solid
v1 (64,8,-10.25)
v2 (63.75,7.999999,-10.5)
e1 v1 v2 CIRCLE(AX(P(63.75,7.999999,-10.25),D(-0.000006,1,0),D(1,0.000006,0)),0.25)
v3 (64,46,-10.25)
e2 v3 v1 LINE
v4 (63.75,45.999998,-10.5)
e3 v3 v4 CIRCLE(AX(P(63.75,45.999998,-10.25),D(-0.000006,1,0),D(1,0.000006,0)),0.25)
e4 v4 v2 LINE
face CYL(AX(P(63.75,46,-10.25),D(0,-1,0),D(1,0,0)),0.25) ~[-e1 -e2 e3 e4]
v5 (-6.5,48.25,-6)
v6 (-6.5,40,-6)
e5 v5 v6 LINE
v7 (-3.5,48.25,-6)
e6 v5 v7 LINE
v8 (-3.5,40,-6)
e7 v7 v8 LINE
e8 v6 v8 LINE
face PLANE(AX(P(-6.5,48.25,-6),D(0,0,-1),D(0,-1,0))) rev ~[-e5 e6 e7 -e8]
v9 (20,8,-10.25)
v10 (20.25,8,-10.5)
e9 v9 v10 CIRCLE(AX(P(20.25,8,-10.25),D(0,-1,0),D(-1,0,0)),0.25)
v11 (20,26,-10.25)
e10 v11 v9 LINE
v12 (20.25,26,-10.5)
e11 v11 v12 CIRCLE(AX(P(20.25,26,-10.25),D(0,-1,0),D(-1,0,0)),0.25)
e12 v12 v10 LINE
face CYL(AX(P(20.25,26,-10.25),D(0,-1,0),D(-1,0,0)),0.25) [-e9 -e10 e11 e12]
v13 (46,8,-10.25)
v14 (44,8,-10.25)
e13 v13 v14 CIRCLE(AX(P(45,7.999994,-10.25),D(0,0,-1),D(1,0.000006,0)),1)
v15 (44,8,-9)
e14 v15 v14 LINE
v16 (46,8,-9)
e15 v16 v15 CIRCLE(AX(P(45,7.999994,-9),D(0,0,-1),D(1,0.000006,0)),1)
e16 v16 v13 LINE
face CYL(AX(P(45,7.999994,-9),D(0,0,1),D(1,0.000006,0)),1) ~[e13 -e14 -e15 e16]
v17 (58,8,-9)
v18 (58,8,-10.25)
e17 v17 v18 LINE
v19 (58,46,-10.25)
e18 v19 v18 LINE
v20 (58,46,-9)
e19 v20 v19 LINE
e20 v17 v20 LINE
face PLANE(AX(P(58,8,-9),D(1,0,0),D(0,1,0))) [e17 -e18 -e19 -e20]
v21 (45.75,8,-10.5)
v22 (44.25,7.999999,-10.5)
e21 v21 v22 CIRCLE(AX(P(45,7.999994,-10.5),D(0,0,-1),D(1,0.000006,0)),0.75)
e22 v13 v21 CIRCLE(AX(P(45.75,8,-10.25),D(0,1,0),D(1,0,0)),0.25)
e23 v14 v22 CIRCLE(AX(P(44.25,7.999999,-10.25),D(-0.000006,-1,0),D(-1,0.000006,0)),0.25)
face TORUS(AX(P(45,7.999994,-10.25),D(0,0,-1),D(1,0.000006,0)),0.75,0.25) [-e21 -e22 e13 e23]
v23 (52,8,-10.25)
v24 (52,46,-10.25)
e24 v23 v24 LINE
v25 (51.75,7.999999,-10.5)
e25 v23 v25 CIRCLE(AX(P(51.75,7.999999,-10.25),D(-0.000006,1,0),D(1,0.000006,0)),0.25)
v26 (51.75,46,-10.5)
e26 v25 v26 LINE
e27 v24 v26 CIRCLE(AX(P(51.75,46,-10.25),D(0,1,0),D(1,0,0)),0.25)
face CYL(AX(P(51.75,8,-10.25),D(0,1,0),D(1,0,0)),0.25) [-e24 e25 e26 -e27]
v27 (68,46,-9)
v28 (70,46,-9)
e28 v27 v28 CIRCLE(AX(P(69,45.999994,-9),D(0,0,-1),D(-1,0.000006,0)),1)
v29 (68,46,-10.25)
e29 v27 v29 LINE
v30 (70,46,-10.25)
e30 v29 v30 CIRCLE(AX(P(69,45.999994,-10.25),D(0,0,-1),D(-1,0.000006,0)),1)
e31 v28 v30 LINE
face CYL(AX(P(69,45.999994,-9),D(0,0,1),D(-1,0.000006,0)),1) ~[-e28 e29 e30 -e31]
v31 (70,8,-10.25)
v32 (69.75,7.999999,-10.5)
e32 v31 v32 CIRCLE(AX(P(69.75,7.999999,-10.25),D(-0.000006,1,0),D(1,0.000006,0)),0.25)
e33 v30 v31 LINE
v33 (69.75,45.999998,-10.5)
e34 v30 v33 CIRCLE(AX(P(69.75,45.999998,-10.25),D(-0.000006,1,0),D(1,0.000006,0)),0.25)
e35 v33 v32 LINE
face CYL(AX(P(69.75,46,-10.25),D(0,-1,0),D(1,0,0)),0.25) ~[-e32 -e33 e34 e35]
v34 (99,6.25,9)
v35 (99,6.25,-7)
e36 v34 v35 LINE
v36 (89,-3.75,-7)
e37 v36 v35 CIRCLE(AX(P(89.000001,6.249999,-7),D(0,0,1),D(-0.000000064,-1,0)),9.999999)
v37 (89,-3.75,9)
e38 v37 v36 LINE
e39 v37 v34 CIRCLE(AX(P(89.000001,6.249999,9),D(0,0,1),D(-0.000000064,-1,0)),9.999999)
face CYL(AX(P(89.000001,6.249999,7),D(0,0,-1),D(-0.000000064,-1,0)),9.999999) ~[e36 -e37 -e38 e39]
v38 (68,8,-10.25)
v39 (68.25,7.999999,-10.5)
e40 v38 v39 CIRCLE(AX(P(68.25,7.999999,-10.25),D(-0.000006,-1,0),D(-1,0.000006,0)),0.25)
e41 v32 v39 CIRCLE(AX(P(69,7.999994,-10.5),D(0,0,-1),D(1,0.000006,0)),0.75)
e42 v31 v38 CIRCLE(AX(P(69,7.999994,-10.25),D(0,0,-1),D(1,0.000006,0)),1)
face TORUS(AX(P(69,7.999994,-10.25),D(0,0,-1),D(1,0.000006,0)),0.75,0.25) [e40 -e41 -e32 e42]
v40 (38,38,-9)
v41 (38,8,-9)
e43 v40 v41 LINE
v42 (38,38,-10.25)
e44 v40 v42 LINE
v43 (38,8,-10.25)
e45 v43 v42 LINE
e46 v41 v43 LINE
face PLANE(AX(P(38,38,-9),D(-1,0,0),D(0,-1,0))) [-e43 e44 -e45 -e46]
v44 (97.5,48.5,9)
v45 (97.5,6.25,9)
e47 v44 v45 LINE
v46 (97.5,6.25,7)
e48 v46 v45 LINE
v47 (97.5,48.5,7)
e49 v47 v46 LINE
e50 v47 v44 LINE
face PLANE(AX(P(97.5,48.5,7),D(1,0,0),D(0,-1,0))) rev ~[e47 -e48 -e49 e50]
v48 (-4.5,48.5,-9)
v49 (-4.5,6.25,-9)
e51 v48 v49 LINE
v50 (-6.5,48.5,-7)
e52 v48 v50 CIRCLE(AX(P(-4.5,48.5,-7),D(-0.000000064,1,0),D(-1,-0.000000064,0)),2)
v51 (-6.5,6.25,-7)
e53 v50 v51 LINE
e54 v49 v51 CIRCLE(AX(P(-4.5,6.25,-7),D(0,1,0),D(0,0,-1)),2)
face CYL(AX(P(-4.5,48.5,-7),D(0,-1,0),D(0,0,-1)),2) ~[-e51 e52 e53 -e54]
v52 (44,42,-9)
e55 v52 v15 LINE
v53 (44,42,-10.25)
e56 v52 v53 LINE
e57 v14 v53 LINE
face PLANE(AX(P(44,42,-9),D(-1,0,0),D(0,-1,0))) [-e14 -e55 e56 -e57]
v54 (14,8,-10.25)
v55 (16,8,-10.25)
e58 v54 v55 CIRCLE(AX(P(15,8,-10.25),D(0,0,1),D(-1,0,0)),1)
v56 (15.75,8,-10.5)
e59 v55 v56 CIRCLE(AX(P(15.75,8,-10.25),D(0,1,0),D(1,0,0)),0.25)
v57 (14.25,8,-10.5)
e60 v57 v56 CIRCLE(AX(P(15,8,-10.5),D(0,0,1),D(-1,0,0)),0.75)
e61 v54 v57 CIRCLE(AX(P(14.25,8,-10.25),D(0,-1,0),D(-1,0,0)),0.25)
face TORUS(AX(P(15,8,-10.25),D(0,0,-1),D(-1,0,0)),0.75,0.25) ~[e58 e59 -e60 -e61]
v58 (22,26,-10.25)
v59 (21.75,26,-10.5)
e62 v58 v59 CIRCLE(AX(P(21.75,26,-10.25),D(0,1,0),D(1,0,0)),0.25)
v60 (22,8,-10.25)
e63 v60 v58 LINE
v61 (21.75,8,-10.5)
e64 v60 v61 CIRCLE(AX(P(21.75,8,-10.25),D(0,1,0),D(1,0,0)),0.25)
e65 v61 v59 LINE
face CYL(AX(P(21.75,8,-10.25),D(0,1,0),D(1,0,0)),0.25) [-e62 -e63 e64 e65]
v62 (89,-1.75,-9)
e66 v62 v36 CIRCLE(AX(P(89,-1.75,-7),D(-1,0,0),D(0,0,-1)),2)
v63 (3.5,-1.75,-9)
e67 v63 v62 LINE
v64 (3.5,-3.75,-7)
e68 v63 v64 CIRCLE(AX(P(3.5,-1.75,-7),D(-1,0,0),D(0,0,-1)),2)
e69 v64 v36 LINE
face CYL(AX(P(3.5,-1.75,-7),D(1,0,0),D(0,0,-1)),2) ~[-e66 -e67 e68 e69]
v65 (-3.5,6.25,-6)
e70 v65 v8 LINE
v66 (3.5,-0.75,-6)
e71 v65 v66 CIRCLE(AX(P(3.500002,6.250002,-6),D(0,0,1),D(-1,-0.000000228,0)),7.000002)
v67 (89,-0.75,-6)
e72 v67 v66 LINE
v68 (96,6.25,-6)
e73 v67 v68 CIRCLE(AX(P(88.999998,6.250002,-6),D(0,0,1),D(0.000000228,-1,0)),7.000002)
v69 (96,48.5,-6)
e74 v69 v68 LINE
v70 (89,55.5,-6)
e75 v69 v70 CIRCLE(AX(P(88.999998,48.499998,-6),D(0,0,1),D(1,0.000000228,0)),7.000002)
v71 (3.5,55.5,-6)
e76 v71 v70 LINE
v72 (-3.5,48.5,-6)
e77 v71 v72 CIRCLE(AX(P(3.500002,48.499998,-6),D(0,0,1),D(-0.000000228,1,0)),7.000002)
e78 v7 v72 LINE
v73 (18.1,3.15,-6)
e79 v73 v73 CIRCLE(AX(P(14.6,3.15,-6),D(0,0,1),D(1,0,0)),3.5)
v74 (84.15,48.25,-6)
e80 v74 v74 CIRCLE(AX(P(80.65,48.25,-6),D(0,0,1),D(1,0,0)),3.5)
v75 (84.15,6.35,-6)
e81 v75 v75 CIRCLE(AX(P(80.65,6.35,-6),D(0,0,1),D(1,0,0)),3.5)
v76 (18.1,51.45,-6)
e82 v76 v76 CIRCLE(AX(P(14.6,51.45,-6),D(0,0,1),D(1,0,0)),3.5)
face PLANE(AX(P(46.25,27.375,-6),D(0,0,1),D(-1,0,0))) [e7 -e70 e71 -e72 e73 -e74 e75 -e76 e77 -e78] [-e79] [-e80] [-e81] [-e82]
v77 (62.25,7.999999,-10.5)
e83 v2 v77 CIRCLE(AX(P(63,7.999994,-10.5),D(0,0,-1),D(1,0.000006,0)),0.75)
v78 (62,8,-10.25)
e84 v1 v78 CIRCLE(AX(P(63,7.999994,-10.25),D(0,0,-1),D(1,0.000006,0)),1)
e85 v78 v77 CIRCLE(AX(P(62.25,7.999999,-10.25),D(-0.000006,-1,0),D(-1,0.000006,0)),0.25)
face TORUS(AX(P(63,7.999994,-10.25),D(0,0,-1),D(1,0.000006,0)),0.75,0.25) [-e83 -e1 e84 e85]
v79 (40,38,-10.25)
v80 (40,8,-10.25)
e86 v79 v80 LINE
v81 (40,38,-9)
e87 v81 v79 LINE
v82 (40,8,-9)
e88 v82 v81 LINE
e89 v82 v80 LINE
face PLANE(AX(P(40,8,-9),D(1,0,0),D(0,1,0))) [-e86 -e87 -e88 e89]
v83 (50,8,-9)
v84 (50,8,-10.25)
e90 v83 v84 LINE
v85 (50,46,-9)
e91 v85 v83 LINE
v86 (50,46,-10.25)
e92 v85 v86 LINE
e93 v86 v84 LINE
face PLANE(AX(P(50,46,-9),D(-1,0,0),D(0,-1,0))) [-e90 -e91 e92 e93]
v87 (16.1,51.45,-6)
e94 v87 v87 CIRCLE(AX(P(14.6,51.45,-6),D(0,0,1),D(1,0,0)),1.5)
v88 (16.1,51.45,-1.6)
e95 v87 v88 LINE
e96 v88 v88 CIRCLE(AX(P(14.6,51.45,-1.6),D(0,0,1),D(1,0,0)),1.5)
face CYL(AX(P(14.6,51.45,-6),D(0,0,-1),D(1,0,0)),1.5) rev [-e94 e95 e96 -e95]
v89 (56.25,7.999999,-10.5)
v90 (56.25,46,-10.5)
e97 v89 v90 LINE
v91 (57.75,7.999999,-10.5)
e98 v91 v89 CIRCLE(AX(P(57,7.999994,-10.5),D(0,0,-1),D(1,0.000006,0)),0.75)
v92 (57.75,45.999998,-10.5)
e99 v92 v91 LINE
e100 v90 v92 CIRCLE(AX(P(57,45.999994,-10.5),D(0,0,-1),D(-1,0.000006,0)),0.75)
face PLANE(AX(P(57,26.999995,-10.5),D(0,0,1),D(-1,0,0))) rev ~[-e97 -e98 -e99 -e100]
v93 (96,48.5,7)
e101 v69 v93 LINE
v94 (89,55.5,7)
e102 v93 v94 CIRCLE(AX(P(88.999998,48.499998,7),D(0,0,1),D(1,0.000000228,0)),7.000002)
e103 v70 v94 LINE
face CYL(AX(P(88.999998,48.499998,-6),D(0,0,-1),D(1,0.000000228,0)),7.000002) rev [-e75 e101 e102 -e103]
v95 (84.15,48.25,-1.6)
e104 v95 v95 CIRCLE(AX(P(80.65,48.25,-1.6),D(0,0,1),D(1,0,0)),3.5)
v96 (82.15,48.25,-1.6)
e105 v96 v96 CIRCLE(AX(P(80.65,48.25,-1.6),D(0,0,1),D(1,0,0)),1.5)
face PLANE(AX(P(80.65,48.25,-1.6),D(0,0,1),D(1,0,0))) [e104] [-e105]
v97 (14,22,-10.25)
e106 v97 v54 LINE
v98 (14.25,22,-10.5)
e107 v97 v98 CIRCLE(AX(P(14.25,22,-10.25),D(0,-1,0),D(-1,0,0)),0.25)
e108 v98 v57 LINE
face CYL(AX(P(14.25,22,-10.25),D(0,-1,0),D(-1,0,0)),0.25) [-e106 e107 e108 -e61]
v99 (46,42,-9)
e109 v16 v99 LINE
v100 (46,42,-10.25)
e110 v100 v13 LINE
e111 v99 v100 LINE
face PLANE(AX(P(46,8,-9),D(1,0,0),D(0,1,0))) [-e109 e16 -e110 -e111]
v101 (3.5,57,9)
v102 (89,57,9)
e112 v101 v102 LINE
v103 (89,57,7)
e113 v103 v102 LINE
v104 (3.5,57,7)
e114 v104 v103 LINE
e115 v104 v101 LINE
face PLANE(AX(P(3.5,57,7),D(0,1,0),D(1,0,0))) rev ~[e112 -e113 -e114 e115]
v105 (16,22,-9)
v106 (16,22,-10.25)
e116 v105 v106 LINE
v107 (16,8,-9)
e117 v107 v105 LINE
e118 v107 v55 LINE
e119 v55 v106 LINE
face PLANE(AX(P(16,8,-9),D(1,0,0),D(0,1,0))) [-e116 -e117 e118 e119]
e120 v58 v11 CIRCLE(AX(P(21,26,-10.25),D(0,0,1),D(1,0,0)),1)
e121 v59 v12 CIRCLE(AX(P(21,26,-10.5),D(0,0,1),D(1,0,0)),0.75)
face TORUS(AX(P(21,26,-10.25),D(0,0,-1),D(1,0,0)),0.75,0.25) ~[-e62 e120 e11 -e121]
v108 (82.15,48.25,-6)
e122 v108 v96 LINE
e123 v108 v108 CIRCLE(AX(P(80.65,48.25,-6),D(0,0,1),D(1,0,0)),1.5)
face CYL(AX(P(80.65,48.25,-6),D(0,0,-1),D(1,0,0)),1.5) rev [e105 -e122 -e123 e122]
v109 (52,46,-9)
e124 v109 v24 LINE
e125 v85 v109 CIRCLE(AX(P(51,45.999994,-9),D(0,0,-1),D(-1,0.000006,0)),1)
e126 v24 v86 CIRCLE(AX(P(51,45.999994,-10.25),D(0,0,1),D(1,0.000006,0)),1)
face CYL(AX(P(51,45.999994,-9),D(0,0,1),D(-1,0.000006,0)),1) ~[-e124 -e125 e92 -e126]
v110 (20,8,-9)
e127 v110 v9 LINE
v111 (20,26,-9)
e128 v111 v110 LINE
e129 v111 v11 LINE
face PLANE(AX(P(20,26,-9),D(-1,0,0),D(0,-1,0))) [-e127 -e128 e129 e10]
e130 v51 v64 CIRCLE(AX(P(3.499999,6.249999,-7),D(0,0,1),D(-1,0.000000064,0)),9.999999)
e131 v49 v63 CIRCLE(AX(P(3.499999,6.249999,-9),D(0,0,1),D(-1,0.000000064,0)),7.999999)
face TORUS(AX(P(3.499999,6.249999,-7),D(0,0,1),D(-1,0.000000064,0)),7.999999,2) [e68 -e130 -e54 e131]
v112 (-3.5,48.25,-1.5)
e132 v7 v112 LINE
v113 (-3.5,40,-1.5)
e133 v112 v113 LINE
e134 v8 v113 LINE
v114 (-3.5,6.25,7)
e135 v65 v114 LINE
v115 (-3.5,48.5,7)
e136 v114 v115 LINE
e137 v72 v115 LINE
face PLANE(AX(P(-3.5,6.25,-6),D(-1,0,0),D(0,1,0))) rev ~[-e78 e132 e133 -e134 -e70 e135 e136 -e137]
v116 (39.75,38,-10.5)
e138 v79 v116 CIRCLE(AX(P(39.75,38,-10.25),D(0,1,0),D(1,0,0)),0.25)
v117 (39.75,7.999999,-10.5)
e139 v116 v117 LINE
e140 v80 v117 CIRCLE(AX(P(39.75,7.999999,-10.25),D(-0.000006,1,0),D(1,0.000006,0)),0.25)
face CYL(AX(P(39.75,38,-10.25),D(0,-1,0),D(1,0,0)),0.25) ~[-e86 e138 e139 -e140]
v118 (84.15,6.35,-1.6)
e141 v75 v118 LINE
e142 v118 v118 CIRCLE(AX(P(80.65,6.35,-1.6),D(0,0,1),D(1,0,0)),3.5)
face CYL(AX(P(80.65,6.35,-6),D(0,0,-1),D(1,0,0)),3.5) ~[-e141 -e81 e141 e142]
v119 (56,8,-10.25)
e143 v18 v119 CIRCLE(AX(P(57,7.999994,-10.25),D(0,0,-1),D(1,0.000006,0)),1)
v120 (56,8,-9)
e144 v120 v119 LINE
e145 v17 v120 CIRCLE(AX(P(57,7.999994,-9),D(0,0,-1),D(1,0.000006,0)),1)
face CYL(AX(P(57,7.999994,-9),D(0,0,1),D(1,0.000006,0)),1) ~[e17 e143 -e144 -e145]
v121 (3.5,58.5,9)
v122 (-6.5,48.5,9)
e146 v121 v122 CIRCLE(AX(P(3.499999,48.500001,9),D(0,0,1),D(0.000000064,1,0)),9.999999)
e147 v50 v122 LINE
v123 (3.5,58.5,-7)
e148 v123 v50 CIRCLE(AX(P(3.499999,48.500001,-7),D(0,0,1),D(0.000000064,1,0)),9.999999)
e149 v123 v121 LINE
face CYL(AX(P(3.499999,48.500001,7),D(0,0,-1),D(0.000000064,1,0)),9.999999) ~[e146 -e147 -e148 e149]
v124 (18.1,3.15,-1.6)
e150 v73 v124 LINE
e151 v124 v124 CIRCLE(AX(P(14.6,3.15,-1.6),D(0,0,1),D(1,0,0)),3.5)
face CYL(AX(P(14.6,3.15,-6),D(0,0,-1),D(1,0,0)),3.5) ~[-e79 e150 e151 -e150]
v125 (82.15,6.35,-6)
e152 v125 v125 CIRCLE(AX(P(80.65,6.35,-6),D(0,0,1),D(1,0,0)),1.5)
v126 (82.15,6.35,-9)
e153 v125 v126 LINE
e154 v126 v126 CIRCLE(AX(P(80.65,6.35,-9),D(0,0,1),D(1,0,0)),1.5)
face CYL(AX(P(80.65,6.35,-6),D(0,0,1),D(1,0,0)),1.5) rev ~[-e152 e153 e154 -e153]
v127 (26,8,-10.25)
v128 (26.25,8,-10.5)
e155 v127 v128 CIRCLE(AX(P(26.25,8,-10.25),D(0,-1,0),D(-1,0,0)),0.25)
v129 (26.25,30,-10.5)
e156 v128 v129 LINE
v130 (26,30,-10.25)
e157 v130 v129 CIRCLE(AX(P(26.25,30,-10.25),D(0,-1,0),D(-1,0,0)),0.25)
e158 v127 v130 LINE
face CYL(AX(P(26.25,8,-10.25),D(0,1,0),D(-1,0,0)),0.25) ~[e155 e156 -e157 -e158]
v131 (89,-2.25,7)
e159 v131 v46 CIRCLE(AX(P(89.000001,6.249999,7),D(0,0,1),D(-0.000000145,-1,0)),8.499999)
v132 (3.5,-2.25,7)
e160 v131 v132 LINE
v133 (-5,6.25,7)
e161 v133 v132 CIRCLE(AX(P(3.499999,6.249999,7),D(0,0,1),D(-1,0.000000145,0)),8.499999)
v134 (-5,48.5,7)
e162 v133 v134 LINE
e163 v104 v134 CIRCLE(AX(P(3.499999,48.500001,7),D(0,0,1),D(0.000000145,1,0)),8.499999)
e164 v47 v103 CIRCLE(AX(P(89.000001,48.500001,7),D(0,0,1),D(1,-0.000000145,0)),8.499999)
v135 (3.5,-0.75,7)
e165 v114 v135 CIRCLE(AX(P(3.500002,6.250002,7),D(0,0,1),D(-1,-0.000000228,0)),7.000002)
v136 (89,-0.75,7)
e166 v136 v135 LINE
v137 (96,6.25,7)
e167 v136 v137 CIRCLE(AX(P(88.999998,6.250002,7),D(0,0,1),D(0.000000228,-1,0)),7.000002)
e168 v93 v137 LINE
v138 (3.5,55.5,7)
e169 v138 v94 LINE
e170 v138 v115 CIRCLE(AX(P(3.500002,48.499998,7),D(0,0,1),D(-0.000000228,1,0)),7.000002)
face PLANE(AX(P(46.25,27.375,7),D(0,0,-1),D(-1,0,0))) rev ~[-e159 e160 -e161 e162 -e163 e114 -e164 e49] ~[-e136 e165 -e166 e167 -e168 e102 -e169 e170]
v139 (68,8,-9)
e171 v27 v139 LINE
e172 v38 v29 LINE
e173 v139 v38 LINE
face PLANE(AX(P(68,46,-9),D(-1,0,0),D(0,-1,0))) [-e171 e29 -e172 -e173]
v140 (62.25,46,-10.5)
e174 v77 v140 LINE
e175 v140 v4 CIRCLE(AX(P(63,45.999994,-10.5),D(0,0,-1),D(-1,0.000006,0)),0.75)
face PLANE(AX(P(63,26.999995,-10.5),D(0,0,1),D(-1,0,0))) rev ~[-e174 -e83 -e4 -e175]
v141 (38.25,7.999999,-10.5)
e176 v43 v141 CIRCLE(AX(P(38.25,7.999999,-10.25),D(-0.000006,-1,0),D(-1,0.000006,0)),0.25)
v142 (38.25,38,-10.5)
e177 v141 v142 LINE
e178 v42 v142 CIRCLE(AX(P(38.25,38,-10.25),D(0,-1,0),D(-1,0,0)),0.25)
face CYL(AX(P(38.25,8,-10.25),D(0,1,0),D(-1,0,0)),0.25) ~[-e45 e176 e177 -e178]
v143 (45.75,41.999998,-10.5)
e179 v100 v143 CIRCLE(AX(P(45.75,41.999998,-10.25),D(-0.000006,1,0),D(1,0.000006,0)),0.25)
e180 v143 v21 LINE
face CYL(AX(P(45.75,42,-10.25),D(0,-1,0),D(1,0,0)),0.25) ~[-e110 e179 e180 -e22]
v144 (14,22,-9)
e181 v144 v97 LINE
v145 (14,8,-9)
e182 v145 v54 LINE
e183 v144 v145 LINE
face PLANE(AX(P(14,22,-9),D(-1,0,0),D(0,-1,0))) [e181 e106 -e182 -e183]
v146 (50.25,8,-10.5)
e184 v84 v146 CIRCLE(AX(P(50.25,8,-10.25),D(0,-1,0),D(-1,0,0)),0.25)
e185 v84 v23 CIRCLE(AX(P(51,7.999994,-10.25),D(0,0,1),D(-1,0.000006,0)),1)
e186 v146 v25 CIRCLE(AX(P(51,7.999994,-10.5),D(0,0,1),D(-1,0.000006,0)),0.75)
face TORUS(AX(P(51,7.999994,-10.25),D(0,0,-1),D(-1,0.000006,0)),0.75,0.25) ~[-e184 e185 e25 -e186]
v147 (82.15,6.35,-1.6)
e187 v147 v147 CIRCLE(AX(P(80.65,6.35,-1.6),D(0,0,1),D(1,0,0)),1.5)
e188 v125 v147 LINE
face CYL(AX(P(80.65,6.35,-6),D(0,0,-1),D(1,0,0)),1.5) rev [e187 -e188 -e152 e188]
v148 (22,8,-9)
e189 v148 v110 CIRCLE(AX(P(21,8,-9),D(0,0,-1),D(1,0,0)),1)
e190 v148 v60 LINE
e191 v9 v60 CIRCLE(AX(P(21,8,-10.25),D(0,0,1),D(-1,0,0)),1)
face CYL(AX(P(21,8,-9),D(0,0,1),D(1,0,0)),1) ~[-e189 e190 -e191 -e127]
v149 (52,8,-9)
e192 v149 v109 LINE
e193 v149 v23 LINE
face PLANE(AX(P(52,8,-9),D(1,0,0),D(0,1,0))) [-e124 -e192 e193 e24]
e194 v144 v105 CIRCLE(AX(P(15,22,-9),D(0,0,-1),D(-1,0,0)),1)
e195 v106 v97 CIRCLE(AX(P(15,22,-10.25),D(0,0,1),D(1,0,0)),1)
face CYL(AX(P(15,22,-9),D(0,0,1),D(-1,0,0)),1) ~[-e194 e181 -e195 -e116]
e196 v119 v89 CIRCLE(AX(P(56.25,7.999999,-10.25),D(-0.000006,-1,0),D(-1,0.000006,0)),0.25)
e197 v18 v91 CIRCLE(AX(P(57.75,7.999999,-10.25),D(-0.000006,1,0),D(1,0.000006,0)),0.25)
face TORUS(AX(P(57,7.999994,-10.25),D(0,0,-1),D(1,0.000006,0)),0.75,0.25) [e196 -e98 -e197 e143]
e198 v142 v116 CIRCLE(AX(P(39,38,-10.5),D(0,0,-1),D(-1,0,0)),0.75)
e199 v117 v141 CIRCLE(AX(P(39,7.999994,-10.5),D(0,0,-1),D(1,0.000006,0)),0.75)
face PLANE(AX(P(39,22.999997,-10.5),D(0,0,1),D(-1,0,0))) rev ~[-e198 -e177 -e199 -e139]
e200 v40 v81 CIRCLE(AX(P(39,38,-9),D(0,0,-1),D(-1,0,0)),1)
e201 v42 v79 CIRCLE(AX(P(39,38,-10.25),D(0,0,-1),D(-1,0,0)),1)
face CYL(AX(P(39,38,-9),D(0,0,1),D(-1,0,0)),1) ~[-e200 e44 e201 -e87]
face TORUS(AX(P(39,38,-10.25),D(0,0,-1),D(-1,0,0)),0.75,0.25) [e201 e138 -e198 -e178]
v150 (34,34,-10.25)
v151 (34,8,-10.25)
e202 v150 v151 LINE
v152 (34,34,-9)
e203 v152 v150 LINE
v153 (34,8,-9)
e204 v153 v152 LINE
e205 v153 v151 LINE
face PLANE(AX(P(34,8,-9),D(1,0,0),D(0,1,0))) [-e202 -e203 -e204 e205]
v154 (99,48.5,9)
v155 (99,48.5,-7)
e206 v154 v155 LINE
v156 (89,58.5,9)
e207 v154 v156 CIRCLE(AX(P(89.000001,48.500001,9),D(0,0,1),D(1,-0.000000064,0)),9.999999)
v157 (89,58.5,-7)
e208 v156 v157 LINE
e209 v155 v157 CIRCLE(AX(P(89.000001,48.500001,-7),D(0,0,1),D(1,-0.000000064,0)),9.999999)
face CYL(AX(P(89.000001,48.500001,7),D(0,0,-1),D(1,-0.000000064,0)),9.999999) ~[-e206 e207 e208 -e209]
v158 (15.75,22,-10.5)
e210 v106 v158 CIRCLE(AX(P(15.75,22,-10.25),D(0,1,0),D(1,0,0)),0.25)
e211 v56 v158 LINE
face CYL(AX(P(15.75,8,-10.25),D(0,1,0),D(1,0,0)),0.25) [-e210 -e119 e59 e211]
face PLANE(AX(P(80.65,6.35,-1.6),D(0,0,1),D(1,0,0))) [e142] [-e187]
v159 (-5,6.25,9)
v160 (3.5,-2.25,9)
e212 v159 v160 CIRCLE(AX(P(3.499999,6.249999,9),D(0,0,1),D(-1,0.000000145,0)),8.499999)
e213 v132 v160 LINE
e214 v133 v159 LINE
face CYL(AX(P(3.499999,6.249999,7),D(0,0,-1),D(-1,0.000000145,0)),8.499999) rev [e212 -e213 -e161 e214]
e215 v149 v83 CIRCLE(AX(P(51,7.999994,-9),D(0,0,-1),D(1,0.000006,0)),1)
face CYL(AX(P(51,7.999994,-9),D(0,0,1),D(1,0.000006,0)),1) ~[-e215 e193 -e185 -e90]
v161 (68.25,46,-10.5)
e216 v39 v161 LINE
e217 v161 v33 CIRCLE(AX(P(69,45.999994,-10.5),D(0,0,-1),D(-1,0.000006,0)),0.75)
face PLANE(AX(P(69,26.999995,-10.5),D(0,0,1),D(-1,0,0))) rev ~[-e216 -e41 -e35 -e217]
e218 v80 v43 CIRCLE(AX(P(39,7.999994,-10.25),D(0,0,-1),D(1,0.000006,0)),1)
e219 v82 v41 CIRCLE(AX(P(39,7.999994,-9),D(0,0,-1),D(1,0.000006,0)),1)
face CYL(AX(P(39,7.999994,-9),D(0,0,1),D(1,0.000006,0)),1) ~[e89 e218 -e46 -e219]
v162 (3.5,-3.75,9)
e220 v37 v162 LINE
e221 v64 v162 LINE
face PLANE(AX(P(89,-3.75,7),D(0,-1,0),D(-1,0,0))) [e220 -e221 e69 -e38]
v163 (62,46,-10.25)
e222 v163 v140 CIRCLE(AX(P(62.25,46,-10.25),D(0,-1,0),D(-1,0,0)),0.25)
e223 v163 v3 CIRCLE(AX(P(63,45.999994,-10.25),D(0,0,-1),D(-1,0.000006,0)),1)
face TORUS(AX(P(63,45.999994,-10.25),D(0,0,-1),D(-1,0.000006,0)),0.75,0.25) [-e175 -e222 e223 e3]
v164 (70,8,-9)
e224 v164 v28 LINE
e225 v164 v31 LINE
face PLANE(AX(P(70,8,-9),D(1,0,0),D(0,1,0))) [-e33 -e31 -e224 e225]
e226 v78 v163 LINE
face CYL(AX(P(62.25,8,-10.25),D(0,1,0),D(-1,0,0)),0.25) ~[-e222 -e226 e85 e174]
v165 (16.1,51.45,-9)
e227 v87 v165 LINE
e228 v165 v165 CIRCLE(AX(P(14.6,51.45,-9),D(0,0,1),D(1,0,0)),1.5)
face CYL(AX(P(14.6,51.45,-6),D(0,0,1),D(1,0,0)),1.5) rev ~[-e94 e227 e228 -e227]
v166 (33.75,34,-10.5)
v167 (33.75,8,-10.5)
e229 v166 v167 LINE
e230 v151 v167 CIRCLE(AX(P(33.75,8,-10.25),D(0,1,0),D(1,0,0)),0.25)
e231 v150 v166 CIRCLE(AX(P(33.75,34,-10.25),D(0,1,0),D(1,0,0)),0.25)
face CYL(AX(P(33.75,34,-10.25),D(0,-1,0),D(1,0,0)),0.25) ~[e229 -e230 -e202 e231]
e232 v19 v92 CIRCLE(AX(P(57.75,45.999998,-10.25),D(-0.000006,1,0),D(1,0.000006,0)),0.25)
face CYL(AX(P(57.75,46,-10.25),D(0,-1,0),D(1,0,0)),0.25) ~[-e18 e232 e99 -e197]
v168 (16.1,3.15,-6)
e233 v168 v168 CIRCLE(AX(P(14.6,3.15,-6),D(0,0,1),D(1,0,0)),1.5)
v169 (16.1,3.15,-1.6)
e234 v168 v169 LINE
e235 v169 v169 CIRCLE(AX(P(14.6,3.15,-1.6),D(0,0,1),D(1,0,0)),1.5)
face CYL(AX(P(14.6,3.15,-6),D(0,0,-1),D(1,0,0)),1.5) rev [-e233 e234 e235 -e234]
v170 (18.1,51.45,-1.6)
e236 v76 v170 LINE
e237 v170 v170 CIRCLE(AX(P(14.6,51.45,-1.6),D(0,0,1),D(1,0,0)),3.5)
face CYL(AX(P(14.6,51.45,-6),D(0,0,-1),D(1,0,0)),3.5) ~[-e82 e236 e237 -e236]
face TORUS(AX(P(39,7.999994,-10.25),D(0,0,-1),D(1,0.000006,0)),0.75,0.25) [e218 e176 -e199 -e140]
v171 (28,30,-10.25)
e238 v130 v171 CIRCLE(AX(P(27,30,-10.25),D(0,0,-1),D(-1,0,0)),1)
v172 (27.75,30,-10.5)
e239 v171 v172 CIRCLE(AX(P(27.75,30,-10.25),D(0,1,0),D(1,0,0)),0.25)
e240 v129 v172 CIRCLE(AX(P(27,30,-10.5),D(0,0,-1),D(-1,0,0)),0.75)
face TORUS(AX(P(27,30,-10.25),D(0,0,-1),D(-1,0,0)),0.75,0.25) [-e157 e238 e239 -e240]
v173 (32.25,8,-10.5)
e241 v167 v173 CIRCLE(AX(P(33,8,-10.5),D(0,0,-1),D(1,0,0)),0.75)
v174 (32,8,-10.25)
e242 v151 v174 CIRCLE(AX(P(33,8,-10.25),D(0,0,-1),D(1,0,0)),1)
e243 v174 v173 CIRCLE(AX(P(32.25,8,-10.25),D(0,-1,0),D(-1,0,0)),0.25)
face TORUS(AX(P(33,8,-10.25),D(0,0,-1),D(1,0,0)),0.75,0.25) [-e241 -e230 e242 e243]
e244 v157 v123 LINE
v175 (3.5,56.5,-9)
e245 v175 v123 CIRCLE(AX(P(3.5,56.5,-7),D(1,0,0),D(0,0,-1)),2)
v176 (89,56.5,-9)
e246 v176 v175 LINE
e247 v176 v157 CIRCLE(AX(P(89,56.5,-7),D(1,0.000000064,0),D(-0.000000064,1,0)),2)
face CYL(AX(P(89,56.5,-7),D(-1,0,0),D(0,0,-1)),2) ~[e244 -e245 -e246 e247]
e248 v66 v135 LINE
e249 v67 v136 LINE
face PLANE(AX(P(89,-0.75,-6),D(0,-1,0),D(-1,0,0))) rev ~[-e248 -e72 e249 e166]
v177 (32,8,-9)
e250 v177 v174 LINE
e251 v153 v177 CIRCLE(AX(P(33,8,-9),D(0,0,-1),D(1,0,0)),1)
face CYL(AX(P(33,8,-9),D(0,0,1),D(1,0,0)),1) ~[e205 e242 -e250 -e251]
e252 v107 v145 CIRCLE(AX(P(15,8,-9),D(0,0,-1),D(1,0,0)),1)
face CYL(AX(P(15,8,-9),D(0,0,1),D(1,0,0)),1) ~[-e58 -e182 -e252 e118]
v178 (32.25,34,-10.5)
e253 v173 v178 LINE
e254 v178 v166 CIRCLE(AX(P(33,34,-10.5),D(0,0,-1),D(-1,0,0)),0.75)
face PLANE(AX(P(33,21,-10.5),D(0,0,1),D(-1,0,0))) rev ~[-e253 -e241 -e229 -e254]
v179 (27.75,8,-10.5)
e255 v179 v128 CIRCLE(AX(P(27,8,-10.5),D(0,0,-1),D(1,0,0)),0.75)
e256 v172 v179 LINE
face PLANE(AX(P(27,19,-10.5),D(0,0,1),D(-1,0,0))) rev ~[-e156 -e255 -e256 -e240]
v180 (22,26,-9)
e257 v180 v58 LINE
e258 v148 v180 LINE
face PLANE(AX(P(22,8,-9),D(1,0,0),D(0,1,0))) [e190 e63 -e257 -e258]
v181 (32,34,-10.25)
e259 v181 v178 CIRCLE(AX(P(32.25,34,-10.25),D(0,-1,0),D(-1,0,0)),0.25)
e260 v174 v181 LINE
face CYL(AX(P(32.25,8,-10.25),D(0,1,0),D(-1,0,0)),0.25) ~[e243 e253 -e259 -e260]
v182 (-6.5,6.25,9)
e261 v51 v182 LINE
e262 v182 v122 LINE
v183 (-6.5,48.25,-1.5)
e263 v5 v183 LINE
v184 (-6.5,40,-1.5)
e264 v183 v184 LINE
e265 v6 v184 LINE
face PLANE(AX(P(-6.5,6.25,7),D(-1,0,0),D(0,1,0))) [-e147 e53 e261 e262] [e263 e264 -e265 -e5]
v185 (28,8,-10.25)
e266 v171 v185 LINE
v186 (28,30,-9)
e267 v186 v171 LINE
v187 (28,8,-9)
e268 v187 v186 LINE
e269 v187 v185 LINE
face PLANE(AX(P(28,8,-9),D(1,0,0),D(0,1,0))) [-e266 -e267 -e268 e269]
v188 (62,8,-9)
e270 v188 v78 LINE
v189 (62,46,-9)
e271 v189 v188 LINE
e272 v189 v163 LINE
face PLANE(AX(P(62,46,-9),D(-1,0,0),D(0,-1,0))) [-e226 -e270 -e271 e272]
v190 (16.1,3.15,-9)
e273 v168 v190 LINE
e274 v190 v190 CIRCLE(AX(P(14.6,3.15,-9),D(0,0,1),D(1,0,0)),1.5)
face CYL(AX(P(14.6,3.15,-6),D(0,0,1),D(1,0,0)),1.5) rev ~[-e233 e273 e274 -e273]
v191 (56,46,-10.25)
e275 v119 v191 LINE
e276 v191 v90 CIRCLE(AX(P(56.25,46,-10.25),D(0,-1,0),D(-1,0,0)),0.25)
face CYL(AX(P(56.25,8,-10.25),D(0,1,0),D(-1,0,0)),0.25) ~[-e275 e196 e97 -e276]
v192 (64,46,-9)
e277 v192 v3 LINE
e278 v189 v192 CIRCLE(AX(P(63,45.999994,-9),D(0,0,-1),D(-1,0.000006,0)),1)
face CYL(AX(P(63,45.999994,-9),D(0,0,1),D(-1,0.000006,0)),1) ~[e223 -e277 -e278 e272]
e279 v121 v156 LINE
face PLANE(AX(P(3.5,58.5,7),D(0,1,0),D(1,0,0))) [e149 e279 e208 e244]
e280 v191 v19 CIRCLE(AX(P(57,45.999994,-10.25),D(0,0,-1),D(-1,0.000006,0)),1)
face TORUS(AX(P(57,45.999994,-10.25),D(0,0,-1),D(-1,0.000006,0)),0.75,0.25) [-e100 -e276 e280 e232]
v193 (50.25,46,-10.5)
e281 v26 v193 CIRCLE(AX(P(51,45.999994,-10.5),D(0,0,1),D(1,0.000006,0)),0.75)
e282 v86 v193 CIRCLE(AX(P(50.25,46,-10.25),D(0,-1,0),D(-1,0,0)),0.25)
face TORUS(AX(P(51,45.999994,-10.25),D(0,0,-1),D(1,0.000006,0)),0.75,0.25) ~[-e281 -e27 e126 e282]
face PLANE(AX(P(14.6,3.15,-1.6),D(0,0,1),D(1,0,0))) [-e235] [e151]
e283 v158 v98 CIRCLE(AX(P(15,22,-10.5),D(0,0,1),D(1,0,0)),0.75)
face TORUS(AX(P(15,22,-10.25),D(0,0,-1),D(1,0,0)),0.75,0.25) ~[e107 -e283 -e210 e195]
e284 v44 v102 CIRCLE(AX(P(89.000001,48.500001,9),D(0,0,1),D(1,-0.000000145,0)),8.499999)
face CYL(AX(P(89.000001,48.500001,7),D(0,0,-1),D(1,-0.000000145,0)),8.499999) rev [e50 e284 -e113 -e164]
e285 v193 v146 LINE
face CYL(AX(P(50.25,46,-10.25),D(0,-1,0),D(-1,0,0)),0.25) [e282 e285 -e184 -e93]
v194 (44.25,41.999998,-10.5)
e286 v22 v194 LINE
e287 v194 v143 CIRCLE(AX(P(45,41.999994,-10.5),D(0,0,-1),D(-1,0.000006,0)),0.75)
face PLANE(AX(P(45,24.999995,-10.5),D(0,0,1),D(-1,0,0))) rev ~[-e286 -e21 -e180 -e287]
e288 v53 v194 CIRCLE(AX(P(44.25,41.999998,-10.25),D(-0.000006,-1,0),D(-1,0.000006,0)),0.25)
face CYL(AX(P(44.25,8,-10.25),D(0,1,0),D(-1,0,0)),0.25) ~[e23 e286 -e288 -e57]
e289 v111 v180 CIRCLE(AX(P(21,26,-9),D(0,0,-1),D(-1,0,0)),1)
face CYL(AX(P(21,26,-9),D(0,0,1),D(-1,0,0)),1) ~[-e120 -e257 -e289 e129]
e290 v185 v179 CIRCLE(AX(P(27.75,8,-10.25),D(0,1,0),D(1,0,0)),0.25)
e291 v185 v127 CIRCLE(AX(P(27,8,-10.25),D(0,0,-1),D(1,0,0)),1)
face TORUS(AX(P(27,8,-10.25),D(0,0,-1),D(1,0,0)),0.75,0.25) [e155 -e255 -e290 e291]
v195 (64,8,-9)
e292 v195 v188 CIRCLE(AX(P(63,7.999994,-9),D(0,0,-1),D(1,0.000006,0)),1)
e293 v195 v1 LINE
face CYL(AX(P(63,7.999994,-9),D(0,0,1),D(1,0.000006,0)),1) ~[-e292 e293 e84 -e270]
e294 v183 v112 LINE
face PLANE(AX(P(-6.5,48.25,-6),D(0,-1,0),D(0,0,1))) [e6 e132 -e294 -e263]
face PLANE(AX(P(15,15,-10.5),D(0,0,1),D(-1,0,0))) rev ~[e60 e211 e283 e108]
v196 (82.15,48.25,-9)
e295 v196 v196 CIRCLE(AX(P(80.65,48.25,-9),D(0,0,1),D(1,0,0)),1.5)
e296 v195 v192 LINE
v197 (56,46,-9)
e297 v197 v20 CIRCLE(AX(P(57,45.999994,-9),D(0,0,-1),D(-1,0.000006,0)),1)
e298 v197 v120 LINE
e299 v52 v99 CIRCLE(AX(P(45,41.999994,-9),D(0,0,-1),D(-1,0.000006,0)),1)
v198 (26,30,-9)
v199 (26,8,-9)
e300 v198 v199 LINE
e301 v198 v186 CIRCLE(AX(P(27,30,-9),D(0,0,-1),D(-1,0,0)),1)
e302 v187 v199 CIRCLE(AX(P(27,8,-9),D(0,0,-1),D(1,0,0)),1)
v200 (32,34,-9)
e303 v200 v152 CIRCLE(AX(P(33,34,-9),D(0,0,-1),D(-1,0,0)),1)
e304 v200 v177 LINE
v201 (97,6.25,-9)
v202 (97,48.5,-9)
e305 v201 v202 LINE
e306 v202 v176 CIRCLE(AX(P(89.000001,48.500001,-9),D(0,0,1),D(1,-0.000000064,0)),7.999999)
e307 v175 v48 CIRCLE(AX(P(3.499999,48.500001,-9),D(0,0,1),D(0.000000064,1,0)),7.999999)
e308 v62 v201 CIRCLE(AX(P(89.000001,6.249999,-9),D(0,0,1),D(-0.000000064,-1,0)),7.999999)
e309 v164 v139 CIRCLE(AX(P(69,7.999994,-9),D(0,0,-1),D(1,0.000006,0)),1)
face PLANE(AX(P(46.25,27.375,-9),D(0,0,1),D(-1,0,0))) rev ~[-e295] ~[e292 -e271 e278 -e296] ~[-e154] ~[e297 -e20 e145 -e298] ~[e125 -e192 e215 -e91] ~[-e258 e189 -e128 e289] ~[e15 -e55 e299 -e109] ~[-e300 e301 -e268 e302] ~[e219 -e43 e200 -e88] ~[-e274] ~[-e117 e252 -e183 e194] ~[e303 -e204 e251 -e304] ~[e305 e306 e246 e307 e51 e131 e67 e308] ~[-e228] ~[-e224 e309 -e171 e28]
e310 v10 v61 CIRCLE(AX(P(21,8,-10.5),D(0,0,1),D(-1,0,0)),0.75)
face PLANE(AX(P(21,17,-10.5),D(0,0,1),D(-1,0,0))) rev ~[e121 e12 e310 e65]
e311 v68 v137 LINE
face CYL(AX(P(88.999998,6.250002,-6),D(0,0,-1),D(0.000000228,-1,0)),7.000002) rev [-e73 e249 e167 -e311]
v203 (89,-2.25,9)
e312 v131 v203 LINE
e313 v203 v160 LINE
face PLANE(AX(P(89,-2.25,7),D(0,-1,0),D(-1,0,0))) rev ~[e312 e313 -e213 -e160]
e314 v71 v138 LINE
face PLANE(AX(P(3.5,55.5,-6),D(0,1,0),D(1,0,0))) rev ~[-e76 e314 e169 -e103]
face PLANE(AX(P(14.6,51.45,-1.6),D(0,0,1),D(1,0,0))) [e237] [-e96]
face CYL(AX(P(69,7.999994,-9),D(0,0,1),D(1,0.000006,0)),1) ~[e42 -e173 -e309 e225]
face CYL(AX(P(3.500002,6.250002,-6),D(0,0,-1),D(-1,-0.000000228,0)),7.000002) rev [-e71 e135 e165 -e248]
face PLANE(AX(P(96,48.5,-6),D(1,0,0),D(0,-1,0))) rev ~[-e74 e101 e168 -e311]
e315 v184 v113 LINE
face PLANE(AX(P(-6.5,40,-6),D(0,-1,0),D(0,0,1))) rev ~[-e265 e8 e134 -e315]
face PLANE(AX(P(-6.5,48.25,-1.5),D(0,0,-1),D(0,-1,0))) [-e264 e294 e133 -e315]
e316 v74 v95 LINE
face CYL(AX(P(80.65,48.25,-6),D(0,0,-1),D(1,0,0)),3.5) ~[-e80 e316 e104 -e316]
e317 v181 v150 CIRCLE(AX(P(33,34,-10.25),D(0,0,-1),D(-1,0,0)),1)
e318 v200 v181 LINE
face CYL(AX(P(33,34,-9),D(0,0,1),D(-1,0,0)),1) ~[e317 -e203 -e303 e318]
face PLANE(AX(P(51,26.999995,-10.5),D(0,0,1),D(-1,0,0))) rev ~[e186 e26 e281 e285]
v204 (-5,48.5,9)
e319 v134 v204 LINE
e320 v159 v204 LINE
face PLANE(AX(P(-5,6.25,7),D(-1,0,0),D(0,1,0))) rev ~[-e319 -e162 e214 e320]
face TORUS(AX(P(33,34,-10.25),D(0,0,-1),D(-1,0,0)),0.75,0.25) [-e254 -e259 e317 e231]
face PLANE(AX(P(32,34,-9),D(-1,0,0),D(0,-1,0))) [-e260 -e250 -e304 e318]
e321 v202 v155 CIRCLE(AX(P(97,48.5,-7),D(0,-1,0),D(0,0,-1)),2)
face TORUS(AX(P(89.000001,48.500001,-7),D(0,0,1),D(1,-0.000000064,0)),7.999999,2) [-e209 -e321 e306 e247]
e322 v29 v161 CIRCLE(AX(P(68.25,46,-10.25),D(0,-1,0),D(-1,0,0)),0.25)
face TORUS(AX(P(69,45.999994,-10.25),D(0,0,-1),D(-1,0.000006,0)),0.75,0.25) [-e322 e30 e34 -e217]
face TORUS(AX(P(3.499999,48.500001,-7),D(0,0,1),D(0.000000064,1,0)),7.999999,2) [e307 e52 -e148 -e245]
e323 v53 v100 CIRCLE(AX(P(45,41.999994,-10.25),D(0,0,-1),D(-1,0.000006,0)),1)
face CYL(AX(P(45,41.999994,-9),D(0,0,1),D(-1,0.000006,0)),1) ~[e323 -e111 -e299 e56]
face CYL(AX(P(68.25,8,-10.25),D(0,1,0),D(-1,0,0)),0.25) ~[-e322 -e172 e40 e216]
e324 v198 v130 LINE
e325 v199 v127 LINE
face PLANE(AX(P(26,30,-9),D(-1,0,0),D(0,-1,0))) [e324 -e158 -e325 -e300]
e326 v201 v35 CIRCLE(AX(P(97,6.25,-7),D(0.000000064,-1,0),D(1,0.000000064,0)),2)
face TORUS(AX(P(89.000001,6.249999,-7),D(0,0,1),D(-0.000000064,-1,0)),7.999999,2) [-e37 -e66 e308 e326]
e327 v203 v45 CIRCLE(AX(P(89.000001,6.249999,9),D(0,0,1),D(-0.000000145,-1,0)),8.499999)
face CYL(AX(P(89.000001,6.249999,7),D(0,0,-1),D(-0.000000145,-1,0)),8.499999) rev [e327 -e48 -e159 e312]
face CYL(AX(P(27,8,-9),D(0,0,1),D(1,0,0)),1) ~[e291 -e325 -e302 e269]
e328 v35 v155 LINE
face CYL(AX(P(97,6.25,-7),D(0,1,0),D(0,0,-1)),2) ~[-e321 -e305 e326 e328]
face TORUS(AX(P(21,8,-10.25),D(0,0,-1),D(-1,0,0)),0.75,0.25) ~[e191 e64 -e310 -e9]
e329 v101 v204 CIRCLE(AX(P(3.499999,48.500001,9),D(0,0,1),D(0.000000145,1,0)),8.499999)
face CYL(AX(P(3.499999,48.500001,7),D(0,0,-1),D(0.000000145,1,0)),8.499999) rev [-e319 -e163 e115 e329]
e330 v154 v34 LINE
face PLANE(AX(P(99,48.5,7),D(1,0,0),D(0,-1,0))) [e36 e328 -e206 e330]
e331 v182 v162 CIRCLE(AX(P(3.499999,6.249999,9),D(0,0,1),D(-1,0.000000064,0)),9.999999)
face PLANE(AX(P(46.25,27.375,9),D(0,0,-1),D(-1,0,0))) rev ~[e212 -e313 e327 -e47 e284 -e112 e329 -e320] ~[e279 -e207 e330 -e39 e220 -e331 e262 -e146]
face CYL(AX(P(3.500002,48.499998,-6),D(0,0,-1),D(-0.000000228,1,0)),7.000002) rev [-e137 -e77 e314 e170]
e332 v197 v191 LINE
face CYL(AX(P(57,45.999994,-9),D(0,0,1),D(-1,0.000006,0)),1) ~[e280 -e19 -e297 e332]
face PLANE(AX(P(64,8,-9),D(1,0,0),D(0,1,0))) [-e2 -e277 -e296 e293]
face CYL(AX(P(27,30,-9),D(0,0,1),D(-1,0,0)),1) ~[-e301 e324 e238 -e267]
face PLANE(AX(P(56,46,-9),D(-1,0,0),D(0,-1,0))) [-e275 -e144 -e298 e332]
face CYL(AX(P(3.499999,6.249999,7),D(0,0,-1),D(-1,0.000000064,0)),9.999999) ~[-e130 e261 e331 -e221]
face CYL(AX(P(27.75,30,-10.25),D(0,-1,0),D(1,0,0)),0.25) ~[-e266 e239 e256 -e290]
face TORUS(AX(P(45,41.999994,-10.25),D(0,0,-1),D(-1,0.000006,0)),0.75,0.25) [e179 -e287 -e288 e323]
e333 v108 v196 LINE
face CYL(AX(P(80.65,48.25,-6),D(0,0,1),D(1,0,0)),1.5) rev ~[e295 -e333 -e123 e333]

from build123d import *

# Parameters (mm, degrees)
PAD_DEPTH       = 13
PAD001_DEPTH    = 3
SKETCH002_R     = 1.5
POCKET_DEPTH    = 3.001
SKETCH003_R     = 3.5
SKETCH003_R_2   = 1.5
PAD002_DEPTH    = 4.4
PAD003_DEPTH    = 2
SKETCH014_W     = 8.25
SKETCH014_H     = 4.5
POCKET006_DEPTH = 3
PAD010_DEPTH    = 1.5
FILLET001_R     = 2
FILLET003_R     = 0.25


with BuildPart() as part:
    # Sketch → Pad (new body)
    with BuildSketch(Plane.XY.offset(-6)):
        with BuildLine():
            Line((3.5, 58.5), (89, 58.5))
            ThreePointArc((99, 48.5), (96.071068, 55.571068), (89, 58.5))
            Line((99, 48.5), (99, 6.25))
            ThreePointArc((89, -3.75), (96.071068, -0.821068), (99, 6.25))
            Line((89, -3.75), (3.5, -3.75))
            ThreePointArc((-6.5, 6.25), (-3.571068, -0.821068), (3.5, -3.75))
            Line((-6.5, 6.25), (-6.5, 48.5))
            ThreePointArc((3.5, 58.5), (-3.571068, 55.571068), (-6.5, 48.5))
        make_face()
        with BuildLine():
            Line((3.5, 55.5), (89, 55.5))
            ThreePointArc((96, 48.5), (93.949747, 53.449747), (89, 55.5))
            Line((96, 48.5), (96, 6.25))
            ThreePointArc((89, -0.75), (93.949747, 1.300253), (96, 6.25))
            Line((89, -0.75), (3.5, -0.75))
            ThreePointArc((-3.5, 6.25), (-1.449747, 1.300253), (3.5, -0.75))
            Line((-3.5, 6.25), (-3.5, 48.5))
            ThreePointArc((3.5, 55.5), (-1.449747, 53.449747), (-3.5, 48.5))
        make_face(mode=Mode.SUBTRACT)
    extrude(amount=PAD_DEPTH)

    # Sketch001 → Pad001 (new body)
    with BuildSketch(Plane(origin=(0, 0, -6), x_dir=(1, 0, 0), z_dir=(0, 0, -1))):
        with BuildLine():
            Line((3.5, 3.75), (89, 3.75))
            ThreePointArc((99, -6.25), (96.071068, 0.821068), (89, 3.75))
            Line((99, -6.25), (99, -48.5))
            ThreePointArc((89, -58.5), (96.071068, -55.571068), (99, -48.5))
            Line((89, -58.5), (3.5, -58.5))
            ThreePointArc((-6.5, -48.5), (-3.571068, -55.571068), (3.5, -58.5))
            Line((-6.5, -48.5), (-6.5, -6.25))
            ThreePointArc((3.5, 3.75), (-3.571068, 0.821068), (-6.5, -6.25))
        make_face()
    extrude(amount=PAD001_DEPTH)

    # Sketch002 → Pocket (cut, through all)
    with BuildSketch(Plane.XY.offset(-6)):
        with Locations((14.6, 51.45)):
            Circle(SKETCH002_R)
        with Locations((14.6, 3.15)):
            Circle(SKETCH002_R)
        with Locations((80.65, 48.25)):
            Circle(SKETCH002_R)
        with Locations((80.65, 6.35)):
            Circle(SKETCH002_R)
    extrude(amount=-POCKET_DEPTH, mode=Mode.SUBTRACT)

    # Sketch003 → Pad002 (new body)
    with BuildSketch(Plane.XY.offset(-6)):
        with Locations((14.6, 3.15)):
            Circle(SKETCH003_R)
        with Locations((14.6, 3.15)):
            Circle(SKETCH003_R_2, mode=Mode.SUBTRACT)
        with Locations((14.6, 51.45)):
            Circle(SKETCH003_R)
        with Locations((14.6, 51.45)):
            Circle(SKETCH003_R_2, mode=Mode.SUBTRACT)
        with Locations((80.65, 6.35)):
            Circle(SKETCH003_R)
        with Locations((80.65, 6.35)):
            Circle(SKETCH003_R_2, mode=Mode.SUBTRACT)
        with Locations((80.65, 48.25)):
            Circle(SKETCH003_R)
        with Locations((80.65, 48.25)):
            Circle(SKETCH003_R_2, mode=Mode.SUBTRACT)
    extrude(amount=PAD002_DEPTH)

    # Sketch004 → Pad003 (new body)
    with BuildSketch(Plane.XY.offset(7)):
        with BuildLine():
            Line((3.5, 58.5), (89, 58.5))
            ThreePointArc((99, 48.5), (96.071068, 55.571068), (89, 58.5))
            Line((99, 48.5), (99, 6.25))
            ThreePointArc((89, -3.75), (96.071068, -0.821068), (99, 6.25))
            Line((89, -3.75), (3.5, -3.75))
            ThreePointArc((-6.5, 6.25), (-3.571068, -0.821068), (3.5, -3.75))
            Line((-6.5, 6.25), (-6.5, 48.5))
            ThreePointArc((3.5, 58.5), (-3.571068, 55.571068), (-6.5, 48.5))
        make_face()
        with BuildLine():
            Line((3.5, 57), (89, 57))
            ThreePointArc((97.5, 48.5), (95.010408, 54.510408), (89, 57))
            Line((97.5, 48.5), (97.5, 6.25))
            ThreePointArc((89, -2.25), (95.010408, 0.239592), (97.5, 6.25))
            Line((89, -2.25), (3.5, -2.25))
            ThreePointArc((-5, 6.25), (-2.510408, 0.239592), (3.5, -2.25))
            Line((-5, 6.25), (-5, 48.5))
            ThreePointArc((3.5, 57), (-2.510408, 54.510408), (-5, 48.5))
        make_face(mode=Mode.SUBTRACT)
    extrude(amount=PAD003_DEPTH)

    # Sketch014 → Pocket006 (cut)
    with BuildSketch(Plane(origin=(-6.5, 0, -6), x_dir=(0, -1, 0), z_dir=(-1, 0, 0))):
        with Locations((-44.125, 2.25)):
            Rectangle(SKETCH014_W, SKETCH014_H)
    extrude(amount=-POCKET006_DEPTH, mode=Mode.SUBTRACT)

    # Sketch015002 → Pad010 (new body)
    with BuildSketch(Plane(origin=(0, 0, -9), x_dir=(1, 0, 0), z_dir=(0, 0, -1))):
        with BuildLine():
            Line((16, -8), (16, -22))
            ThreePointArc((14, -22), (15, -23), (16, -22))
            Line((14, -22), (14, -8))
            ThreePointArc((16, -8), (15, -7), (14, -8))
        make_face()
        with BuildLine():
            Line((22, -8), (22, -26))
            ThreePointArc((20, -26), (21, -27), (22, -26))
            Line((20, -26), (20, -8))
            ThreePointArc((22, -8), (21, -7), (20, -8))
        make_face()
        with BuildLine():
            Line((28, -8), (28, -30))
            ThreePointArc((26, -30), (27, -31), (28, -30))
            Line((26, -30), (26, -8))
            ThreePointArc((28, -8), (27, -7), (26, -8))
        make_face()
        with BuildLine():
            Line((34, -8), (34, -34))
            ThreePointArc((32, -34), (33, -35), (34, -34))
            Line((32, -34), (32, -8))
            ThreePointArc((34, -8), (33, -7), (32, -8))
        make_face()
        with BuildLine():
            Line((40, -8), (40, -38))
            ThreePointArc((38, -38), (39, -39), (40, -38))
            Line((38, -38), (38, -8))
            ThreePointArc((40, -8), (39, -6.999994), (38, -8))
        make_face()
        with BuildLine():
            Line((46, -8), (46, -42))
            ThreePointArc((44, -42), (45, -42.999994), (46, -42))
            Line((44, -42), (44, -8))
            ThreePointArc((46, -8), (45, -6.999994), (44, -8))
        make_face()
        with BuildLine():
            Line((52, -8), (52, -46))
            ThreePointArc((50, -46), (51, -46.999994), (52, -46))
            Line((50, -46), (50, -8))
            ThreePointArc((52, -8), (51, -6.999994), (50, -8))
        make_face()
        with BuildLine():
            Line((58, -8), (58, -46))
            ThreePointArc((56, -46), (57, -46.999994), (58, -46))
            Line((56, -46), (56, -8))
            ThreePointArc((58, -8), (57, -6.999994), (56, -8))
        make_face()
        with BuildLine():
            Line((64, -8), (64, -46))
            ThreePointArc((62, -46), (63, -46.999994), (64, -46))
            Line((62, -46), (62, -8))
            ThreePointArc((64, -8), (63, -6.999994), (62, -8))
        make_face()
        with BuildLine():
            Line((70, -8), (70, -46))
            ThreePointArc((68, -46), (69, -46.999994), (70, -46))
            Line((68, -46), (68, -8))
            ThreePointArc((70, -8), (69, -6.999994), (68, -8))
        make_face()
    extrude(amount=PAD010_DEPTH)

    # Fillet001
    fillet001_edges = [part.edges().sort_by_distance(p)[0] for p in [
        (46.25, -3.75, -9),
    ]]
    fillet(fillet001_edges, radius=FILLET001_R)

    # Fillet003
    fillet003_edges = [part.edges().sort_by_distance(p)[0] for p in [
        (14, 15, -10.5),
        (15, 7, -10.5),
        (16, 15, -10.5),
        (15, 23, -10.5),
        (20, 17, -10.5),
        (21, 7, -10.5),
        (22, 17, -10.5),
        (21, 27, -10.5),
        (27, 31, -10.5),
        (26, 19, -10.5),
        (27, 7, -10.5),
        (28, 19, -10.5),
        (33, 35, -10.5),
        (32, 21, -10.5),
        (33, 7, -10.5),
        (34, 21, -10.5),
        (39, 6.999994, -10.5),
        (40, 23, -10.5),
        (39, 39, -10.5),
        (38, 23, -10.5),
        (45, 42.999994, -10.5),
        (44, 25, -10.5),
        (45, 6.999994, -10.5),
        (46, 25, -10.5),
        (50, 27, -10.5),
        (51, 6.999994, -10.5),
        (52, 27, -10.5),
        (51, 46.999994, -10.5),
        (57, 6.999994, -10.5),
        (58, 27, -10.5),
        (57, 46.999994, -10.5),
        (56, 27, -10.5),
        (63, 6.999994, -10.5),
        (64, 27, -10.5),
        (63, 46.999994, -10.5),
        (62, 27, -10.5),
        (69, 6.999994, -10.5),
        (70, 27, -10.5),
        (69, 46.999994, -10.5),
        (68, 27, -10.5),
    ]]
    fillet(fillet003_edges, radius=FILLET003_R)


solid = part.part
